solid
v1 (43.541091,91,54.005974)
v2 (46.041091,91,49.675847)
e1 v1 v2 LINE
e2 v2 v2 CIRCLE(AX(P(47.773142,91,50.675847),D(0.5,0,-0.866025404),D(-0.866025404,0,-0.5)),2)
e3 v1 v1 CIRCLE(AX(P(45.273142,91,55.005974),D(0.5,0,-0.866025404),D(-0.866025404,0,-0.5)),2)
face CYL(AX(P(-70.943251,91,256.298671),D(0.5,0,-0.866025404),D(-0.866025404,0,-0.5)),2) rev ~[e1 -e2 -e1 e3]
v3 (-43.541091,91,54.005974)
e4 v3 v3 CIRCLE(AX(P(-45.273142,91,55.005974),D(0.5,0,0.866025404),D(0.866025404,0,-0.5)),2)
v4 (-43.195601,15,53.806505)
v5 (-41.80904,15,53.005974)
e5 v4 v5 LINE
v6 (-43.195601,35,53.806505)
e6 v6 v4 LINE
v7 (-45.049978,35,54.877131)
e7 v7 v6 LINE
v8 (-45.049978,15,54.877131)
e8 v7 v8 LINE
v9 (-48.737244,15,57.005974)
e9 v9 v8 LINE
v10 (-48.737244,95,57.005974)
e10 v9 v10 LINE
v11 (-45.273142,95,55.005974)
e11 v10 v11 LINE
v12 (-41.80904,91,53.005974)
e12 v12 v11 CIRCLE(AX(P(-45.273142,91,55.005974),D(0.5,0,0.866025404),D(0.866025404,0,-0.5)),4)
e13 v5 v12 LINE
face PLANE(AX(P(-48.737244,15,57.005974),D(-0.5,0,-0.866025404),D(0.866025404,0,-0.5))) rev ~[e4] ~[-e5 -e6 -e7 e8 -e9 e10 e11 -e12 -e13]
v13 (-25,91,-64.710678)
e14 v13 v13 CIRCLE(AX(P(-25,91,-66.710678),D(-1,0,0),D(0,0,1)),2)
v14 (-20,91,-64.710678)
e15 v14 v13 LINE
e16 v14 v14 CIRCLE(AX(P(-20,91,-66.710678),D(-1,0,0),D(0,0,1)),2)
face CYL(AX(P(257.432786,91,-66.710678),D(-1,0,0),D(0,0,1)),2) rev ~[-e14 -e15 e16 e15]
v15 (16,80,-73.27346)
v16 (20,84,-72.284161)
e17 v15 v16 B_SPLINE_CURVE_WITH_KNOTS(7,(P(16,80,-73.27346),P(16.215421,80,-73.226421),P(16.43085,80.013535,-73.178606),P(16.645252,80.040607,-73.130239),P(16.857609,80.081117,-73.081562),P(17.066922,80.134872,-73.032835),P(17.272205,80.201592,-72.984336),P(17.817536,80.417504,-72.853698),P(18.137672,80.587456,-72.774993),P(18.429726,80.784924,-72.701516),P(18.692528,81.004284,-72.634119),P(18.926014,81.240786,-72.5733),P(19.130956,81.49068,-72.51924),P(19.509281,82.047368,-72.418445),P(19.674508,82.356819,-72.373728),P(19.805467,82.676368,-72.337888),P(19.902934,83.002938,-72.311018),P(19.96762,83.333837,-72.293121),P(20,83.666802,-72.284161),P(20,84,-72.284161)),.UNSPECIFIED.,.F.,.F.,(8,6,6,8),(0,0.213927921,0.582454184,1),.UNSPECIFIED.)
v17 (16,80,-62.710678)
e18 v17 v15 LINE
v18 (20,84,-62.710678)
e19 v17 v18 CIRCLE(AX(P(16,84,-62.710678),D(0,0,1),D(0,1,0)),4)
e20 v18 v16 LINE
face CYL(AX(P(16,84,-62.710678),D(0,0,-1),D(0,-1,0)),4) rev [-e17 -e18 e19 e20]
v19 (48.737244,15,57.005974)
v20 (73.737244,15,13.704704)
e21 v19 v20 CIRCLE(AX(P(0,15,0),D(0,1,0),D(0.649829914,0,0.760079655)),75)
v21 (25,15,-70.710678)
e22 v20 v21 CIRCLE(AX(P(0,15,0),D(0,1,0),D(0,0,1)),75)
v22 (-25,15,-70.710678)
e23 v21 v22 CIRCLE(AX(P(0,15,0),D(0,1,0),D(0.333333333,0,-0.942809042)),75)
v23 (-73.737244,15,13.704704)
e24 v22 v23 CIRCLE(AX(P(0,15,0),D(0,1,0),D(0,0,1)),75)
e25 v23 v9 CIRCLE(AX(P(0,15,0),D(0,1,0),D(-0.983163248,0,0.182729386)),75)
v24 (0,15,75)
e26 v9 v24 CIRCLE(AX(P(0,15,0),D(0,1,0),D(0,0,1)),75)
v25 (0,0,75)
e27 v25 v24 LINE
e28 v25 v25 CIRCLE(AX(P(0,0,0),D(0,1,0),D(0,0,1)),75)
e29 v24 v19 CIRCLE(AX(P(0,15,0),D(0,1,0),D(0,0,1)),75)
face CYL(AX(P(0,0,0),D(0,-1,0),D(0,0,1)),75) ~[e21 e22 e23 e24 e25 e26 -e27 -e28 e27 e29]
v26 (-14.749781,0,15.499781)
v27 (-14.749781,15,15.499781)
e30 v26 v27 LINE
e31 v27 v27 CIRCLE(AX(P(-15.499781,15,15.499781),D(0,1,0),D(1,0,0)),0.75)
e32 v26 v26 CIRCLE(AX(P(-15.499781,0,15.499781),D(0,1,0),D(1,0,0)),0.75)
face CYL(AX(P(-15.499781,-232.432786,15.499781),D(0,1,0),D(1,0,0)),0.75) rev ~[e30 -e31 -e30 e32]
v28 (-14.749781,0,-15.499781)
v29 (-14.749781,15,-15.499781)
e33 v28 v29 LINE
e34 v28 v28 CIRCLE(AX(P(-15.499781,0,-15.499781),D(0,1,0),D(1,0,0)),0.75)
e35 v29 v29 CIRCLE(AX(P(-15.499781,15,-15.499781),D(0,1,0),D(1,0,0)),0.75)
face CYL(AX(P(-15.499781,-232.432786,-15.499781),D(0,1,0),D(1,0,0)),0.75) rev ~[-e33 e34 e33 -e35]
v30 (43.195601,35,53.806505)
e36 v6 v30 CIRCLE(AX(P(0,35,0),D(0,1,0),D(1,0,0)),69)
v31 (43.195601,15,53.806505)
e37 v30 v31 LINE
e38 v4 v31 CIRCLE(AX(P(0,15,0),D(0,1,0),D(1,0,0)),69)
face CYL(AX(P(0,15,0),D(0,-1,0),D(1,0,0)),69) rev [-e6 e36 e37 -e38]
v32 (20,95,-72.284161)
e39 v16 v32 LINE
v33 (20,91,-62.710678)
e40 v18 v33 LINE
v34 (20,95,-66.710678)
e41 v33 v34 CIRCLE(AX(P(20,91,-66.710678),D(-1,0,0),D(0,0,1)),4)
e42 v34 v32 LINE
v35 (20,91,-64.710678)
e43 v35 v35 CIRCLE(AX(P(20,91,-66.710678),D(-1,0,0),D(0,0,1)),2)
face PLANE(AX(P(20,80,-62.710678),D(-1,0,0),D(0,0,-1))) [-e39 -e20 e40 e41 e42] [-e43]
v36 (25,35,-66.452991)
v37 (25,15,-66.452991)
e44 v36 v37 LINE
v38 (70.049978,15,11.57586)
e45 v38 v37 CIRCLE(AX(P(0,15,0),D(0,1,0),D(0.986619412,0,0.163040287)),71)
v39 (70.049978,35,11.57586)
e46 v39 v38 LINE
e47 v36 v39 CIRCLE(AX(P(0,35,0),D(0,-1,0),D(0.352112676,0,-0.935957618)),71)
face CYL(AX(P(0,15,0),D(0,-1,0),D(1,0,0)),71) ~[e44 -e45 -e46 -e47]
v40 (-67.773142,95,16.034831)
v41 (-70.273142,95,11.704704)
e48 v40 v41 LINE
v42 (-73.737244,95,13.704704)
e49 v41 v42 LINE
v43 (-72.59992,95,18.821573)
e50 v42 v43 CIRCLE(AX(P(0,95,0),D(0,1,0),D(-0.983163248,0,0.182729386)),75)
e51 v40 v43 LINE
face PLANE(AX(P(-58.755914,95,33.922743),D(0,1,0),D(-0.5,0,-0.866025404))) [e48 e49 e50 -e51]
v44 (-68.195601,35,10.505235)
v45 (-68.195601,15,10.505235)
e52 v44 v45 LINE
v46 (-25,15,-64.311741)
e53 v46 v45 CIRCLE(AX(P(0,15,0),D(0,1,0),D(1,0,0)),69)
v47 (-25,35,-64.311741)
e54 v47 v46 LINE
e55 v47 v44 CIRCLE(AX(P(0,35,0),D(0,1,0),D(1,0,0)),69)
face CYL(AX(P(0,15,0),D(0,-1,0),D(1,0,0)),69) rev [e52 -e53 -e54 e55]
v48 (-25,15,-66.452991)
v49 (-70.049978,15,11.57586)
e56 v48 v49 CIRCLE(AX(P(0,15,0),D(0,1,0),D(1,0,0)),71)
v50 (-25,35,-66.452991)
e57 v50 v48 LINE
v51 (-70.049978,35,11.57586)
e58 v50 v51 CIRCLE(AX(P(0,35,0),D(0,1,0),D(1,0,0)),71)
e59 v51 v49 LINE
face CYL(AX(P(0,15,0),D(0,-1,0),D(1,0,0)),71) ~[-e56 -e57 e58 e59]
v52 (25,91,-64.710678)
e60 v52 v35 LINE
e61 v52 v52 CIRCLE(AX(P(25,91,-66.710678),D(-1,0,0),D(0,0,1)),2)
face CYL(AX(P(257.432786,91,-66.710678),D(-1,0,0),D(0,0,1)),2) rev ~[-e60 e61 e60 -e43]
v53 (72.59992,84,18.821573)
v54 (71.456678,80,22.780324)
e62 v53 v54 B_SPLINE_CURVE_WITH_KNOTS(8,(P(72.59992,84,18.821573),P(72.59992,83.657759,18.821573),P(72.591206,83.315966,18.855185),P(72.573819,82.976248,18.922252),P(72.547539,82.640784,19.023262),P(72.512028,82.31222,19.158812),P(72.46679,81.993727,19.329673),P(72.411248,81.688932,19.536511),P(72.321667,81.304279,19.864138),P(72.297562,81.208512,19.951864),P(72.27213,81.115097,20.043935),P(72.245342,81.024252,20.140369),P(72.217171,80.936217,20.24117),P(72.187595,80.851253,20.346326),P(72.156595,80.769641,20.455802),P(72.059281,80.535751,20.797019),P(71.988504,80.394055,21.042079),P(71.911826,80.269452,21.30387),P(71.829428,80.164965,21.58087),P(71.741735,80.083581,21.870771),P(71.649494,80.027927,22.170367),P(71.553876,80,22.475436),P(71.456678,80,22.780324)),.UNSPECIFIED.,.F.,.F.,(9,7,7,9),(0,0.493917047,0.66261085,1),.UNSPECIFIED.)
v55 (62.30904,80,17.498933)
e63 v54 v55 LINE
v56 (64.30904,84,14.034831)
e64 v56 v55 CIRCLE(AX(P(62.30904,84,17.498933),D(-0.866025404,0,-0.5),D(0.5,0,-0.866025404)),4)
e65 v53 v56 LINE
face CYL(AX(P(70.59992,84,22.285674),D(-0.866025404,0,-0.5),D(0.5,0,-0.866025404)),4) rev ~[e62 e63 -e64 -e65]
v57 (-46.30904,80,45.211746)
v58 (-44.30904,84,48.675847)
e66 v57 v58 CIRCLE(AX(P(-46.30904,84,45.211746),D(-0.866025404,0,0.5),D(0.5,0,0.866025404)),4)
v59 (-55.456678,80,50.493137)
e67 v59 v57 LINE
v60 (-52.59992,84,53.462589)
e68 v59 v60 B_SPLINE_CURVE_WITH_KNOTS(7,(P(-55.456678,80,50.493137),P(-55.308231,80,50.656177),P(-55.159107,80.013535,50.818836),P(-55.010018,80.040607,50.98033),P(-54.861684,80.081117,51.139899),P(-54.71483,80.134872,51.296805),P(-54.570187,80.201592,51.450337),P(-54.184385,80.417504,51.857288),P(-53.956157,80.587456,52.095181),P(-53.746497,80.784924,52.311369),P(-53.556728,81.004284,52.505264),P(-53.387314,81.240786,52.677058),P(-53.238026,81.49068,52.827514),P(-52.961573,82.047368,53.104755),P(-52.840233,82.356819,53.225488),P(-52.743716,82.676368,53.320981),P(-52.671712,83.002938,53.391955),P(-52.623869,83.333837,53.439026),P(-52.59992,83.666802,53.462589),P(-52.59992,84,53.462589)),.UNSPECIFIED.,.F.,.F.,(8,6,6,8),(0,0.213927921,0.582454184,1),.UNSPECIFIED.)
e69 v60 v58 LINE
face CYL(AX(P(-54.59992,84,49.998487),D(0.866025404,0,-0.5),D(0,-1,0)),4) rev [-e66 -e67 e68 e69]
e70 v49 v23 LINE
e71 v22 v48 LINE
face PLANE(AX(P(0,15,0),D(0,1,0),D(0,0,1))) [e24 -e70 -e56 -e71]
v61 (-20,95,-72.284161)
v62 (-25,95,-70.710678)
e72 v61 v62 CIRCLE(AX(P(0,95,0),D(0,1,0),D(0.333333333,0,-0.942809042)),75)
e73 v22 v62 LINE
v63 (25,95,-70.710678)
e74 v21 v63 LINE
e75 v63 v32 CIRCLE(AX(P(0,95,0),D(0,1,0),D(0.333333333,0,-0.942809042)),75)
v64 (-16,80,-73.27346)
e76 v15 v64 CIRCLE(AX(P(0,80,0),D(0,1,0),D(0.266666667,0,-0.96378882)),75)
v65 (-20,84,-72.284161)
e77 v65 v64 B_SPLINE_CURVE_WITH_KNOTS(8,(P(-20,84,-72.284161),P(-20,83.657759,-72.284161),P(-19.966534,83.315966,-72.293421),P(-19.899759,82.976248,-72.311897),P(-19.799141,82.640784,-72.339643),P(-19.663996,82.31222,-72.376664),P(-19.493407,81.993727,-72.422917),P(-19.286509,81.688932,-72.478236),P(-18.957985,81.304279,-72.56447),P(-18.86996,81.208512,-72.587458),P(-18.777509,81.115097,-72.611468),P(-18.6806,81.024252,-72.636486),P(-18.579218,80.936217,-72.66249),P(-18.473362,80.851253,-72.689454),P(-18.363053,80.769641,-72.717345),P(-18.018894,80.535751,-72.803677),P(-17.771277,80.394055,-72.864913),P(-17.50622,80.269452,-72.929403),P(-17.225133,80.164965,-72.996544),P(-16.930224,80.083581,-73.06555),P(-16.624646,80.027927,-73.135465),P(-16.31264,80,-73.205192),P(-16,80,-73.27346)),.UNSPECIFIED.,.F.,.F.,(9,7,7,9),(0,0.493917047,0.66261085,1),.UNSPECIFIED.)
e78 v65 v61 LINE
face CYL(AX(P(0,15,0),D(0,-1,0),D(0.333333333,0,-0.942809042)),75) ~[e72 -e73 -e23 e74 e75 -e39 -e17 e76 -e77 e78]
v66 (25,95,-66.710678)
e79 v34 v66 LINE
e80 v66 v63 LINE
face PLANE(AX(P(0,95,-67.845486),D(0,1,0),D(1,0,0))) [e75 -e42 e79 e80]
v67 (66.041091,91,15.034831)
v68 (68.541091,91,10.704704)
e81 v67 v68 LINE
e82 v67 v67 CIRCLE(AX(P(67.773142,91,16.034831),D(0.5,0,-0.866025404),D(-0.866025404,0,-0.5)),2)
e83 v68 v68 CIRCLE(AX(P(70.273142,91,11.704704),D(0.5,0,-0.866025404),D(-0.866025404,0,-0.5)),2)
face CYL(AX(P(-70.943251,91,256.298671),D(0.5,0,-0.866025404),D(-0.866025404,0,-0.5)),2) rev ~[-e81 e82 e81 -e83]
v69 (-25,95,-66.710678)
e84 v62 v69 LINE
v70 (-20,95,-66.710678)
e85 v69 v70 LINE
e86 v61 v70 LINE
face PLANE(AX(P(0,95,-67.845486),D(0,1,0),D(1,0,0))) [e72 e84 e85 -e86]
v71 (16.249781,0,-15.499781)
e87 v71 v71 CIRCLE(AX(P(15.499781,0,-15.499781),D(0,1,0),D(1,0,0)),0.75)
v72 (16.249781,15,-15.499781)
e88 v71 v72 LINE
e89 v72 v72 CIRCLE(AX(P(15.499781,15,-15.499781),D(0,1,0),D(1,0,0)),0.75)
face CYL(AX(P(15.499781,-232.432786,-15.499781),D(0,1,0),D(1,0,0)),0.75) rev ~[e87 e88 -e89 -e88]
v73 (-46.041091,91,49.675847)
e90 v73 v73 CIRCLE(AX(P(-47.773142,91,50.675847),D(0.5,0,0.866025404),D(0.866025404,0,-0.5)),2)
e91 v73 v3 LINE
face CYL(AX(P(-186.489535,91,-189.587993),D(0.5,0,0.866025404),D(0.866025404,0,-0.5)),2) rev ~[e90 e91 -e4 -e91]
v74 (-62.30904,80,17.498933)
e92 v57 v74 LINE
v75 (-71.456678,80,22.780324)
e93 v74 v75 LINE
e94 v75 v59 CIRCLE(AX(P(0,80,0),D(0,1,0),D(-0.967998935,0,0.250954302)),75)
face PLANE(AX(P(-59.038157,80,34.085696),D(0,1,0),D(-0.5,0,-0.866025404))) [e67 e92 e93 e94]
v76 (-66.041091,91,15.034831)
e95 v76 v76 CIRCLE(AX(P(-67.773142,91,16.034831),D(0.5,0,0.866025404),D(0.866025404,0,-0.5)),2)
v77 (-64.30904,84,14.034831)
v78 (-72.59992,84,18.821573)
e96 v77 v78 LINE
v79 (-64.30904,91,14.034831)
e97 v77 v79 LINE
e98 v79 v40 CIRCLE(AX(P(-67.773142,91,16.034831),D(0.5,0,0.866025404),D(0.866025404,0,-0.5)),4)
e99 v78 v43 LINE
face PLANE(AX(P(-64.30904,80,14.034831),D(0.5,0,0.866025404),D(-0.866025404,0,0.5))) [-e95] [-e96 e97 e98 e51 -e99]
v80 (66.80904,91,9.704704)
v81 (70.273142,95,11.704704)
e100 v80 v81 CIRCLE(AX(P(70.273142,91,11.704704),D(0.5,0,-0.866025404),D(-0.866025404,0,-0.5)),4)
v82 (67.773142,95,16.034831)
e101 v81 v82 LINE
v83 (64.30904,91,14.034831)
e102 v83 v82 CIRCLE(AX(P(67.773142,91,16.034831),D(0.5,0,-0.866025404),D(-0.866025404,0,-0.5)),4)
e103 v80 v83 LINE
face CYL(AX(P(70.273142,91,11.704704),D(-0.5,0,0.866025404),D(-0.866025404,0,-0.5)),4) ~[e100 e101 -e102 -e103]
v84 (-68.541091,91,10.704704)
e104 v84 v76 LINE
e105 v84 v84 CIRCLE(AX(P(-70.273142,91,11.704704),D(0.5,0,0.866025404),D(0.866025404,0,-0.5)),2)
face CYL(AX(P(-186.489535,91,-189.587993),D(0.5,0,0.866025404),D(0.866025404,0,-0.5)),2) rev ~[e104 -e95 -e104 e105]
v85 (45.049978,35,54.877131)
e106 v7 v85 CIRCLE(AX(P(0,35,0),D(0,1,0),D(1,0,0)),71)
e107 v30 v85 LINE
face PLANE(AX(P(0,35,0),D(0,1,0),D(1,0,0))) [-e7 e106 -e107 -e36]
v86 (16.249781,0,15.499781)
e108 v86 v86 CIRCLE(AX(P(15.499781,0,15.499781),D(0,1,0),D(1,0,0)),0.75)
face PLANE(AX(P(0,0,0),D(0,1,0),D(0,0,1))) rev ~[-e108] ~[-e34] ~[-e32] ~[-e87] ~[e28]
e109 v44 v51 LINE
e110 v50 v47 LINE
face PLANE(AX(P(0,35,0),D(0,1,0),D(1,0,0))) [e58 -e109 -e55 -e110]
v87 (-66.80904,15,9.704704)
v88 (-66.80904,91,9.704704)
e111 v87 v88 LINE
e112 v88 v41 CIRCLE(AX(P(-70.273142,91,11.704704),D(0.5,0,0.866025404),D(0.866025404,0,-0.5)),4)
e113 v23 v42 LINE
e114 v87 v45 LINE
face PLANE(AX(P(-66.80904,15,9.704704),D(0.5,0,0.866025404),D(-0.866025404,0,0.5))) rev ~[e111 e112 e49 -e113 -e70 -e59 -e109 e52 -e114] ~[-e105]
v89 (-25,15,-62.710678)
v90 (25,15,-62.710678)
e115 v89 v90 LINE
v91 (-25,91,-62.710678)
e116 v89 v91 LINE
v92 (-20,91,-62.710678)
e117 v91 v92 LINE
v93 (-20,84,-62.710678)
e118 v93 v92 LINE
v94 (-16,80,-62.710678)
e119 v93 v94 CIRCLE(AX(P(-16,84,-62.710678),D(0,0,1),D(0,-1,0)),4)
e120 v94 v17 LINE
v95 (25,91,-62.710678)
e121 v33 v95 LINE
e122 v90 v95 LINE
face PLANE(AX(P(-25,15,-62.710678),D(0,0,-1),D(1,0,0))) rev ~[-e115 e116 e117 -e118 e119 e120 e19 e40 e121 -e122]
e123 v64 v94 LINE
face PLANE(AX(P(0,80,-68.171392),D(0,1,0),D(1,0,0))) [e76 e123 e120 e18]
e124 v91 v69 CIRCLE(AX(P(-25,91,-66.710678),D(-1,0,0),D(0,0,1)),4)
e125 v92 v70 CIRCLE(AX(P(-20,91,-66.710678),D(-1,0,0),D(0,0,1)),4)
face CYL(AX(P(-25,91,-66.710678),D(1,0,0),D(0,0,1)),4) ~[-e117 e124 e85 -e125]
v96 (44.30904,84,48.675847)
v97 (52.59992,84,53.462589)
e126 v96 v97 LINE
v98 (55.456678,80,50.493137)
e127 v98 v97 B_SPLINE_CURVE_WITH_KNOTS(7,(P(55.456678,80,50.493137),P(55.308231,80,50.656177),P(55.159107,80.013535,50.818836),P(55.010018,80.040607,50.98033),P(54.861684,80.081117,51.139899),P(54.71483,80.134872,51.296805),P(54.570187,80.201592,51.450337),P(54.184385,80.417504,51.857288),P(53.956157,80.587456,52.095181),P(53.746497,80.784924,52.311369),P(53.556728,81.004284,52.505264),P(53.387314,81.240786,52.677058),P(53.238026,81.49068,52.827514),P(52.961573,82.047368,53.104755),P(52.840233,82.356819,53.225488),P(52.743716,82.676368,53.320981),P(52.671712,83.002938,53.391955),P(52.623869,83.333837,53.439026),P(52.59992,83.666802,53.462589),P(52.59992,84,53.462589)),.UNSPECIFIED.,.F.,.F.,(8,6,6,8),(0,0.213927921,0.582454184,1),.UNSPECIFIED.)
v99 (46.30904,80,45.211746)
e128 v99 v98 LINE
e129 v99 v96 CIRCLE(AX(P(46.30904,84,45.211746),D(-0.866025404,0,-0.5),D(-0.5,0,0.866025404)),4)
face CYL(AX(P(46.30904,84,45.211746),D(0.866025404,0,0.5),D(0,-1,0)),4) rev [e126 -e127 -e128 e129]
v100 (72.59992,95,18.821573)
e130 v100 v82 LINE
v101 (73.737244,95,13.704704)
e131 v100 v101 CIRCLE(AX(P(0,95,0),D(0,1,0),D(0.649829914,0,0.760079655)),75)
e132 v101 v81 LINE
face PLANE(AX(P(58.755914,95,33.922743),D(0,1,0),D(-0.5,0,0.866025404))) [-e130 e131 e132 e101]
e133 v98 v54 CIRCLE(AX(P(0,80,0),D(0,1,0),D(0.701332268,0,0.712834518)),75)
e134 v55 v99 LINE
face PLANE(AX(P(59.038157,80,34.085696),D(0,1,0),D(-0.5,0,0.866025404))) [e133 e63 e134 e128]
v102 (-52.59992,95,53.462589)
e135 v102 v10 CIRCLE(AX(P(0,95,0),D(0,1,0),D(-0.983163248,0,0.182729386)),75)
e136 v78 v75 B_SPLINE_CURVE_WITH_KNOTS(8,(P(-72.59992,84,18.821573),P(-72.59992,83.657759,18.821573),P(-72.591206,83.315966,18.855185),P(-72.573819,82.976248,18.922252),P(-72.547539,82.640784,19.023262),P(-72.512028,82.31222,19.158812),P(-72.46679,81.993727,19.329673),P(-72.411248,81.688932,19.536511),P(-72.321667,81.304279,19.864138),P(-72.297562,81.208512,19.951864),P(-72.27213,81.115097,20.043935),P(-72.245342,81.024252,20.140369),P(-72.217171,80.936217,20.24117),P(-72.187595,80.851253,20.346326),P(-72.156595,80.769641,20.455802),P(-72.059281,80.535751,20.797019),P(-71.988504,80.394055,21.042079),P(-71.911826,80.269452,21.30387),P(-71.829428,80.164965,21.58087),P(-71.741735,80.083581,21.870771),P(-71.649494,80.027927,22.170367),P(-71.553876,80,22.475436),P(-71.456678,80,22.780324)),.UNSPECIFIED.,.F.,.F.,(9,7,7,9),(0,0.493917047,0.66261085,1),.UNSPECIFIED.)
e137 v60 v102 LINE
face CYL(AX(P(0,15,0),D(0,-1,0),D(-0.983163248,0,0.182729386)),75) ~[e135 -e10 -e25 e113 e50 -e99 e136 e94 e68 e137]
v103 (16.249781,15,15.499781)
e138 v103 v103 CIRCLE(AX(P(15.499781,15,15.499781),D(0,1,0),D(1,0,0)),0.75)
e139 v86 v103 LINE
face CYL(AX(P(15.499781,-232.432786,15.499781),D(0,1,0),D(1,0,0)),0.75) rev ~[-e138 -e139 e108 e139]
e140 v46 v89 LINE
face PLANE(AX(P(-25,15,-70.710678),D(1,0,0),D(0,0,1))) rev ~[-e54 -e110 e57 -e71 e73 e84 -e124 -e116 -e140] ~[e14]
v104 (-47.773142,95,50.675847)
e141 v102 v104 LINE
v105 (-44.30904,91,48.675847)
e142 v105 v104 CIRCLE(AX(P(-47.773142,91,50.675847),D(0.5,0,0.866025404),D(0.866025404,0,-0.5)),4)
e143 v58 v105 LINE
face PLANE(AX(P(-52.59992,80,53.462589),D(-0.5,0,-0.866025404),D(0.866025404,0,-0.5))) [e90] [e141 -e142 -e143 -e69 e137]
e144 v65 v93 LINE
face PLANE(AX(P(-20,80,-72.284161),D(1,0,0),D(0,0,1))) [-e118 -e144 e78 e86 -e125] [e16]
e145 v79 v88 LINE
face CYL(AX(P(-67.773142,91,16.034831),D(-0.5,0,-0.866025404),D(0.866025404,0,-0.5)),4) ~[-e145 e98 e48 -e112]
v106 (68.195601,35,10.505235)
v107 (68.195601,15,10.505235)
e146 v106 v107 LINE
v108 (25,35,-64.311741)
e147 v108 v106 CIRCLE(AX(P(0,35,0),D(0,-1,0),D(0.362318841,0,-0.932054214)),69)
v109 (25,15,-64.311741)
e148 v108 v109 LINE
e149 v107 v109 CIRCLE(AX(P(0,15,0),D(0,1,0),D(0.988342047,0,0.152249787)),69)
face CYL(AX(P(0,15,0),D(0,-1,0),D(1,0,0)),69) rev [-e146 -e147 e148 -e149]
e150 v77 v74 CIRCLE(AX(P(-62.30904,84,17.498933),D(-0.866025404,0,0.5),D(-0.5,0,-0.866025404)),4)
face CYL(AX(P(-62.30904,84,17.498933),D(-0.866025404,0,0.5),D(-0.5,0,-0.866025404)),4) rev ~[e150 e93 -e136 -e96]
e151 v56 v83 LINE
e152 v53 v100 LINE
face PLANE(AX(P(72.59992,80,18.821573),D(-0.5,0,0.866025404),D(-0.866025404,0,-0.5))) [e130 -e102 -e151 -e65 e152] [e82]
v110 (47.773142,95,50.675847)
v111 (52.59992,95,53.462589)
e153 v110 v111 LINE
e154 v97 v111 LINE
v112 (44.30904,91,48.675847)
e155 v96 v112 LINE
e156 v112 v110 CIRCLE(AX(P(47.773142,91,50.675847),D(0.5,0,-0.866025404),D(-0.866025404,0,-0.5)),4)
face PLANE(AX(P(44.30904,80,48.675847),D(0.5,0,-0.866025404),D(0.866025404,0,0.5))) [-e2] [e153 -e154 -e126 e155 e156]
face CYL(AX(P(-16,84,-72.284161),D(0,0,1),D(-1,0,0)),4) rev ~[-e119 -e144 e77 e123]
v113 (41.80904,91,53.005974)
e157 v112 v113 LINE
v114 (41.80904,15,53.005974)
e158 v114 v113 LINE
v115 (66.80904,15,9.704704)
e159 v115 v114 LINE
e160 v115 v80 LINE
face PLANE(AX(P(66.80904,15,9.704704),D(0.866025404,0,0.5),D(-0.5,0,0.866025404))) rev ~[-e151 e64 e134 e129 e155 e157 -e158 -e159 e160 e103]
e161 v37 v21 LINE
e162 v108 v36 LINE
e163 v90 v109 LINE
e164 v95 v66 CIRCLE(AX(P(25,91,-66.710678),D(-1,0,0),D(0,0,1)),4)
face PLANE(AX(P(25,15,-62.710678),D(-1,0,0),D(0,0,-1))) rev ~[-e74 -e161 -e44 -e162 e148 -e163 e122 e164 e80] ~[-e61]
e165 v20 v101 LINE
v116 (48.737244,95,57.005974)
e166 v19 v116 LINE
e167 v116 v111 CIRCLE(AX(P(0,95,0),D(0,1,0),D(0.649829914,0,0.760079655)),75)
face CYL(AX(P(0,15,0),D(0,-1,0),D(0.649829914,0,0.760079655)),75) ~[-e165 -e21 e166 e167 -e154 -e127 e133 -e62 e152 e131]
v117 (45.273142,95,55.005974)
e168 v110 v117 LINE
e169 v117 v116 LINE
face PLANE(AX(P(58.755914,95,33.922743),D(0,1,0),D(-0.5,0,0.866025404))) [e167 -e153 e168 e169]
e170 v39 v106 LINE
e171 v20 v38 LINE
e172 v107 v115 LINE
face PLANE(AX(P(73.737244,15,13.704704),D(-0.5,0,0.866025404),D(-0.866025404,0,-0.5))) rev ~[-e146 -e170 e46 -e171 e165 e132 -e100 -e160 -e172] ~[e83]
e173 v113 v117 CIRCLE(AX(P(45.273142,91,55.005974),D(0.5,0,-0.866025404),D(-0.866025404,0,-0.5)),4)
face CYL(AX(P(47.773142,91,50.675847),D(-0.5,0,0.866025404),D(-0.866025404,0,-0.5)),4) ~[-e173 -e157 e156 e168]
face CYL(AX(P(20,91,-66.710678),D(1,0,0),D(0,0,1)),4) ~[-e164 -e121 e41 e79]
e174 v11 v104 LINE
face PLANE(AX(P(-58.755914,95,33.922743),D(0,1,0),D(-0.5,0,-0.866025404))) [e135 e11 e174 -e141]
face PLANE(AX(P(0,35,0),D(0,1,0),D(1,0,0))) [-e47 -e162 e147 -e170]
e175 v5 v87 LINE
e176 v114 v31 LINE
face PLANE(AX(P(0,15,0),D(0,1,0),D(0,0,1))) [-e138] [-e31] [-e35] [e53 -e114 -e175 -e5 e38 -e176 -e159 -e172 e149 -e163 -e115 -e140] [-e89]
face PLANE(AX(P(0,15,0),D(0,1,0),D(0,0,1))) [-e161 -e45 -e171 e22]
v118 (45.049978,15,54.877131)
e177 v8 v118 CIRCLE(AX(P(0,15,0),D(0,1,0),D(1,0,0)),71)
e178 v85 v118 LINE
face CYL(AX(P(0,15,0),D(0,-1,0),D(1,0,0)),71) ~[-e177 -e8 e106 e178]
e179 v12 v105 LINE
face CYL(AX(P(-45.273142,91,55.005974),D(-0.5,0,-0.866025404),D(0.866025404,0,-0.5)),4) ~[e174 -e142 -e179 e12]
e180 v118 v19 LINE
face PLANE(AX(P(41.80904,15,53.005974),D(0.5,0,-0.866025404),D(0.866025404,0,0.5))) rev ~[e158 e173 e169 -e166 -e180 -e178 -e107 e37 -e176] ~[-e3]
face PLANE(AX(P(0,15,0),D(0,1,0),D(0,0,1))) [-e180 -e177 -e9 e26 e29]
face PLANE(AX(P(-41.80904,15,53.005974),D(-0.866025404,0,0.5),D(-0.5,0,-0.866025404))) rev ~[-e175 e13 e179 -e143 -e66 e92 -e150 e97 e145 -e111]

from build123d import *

# Parameters (mm, degrees)
SKETCH1_R                 = 75
BOSS_EXTRUDE1_DEPTH       = 15
BOSS_EXTRUDE2_DEPTH       = 80
CUT_EXTRUDE1_START        = -15
CUT_EXTRUDE1_DEPTH        = 15
F_4_0_MM_DOWEL_HOLES1_D   = 4
FILLET1_R                 = 4
FILLET2_R                 = 4
CIRPATTERN1_COUNT         = 3
FILLET1_OF_CIRPATTERN1_R  = 4
FILLET2_OF_CIRPATTERN1_R  = 4
FORI_ALESATO_1_5MM2_D     = 1.5
SCHIZZO8_R                = 71
SCHIZZO8_R_2              = 69
ESTRUSIONE_SOTTILE1_DEPTH = 20


with BuildPart() as part:
    # Sketch1 → Boss-Extrude1 (new body)
    with BuildSketch(Plane(origin=(0, 0, 0), x_dir=(1, 0, 0), z_dir=(0, 1, 0))):
        with Locations(Location((0, 0, 0), (0, 0, 270))):
            Circle(SKETCH1_R)
    extrude(amount=BOSS_EXTRUDE1_DEPTH)

    # Sketch2 → Boss-Extrude2 (add)
    with BuildSketch(Plane(origin=(0, 15, 0), x_dir=(1, 0, 0), z_dir=(0, 1, 0))):
        with BuildLine():
            Line((-25, 70.710678119), (-25, 62.710678119))
            Line((-25, 62.710678119), (25, 62.710678119))
            Line((25, 62.710678119), (25, 70.710678119))
            ThreePointArc((25, 70.710678119), (0, 75), (-25, 70.710678119))
        make_face()
    boss_extrude2 = extrude(amount=BOSS_EXTRUDE2_DEPTH)

    # Sketch3 → Cut-Extrude1 (cut)
    with BuildSketch(Plane(origin=(0, 95, 0), x_dir=(1, 0, 0), z_dir=(0, 1, 0)).offset(CUT_EXTRUDE1_START)):
        with BuildLine():
            Line((-20, 72.284161474), (-20, 62.710678119))
            Line((-20, 62.710678119), (20, 62.710678119))
            Line((20, 62.710678119), (20, 72.284161474))
            ThreePointArc((20, 72.284161474), (0, 75), (-20, 72.284161474))
        make_face()
    cut_extrude1 = extrude(amount=CUT_EXTRUDE1_DEPTH, mode=Mode.SUBTRACT)

    # Ø4.0 mm Dowel Holes1 (through all)
    with Locations(Plane(origin=(25, 0, 0), x_dir=(0, 0, -1), z_dir=(1, 0, 0))):
        with Locations((66.710678119, 91)):
            f_4_0_mm_dowel_holes1 = Hole(F_4_0_MM_DOWEL_HOLES1_D / 2)

    # Fillet1
    fillet1_edges = [part.edges().sort_by_distance(p)[0] for p in [
        (22.5, 95, -62.710678119),
        (-22.5, 95, -62.710678119),
    ]]
    fillet(fillet1_edges, radius=FILLET1_R)

    # Fillet2
    fillet2_edges = [part.edges().sort_by_distance(p)[0] for p in [
        (20, 80, -67.497419796),
        (-20, 80, -67.497419796),
    ]]
    fillet(fillet2_edges, radius=FILLET2_R)

    # CirPattern1: Boss-Extrude2, Cut-Extrude1, Ø4.0 mm Dowel Holes1 ×3 about axis
    cirpattern1_axis = Axis((0, 0, 0), (0, 1, 0))
    add([boss_extrude2.rotate(cirpattern1_axis, i * 360 / CIRPATTERN1_COUNT) for i in range(1, CIRPATTERN1_COUNT)])
    add([cut_extrude1.rotate(cirpattern1_axis, i * 360 / CIRPATTERN1_COUNT) for i in range(1, CIRPATTERN1_COUNT)], mode=Mode.SUBTRACT)
    add([f_4_0_mm_dowel_holes1.rotate(cirpattern1_axis, i * 360 / CIRPATTERN1_COUNT) for i in range(1, CIRPATTERN1_COUNT)], mode=Mode.SUBTRACT)

    # Fillet1 of CirPattern1
    fillet1_of_cirpattern1_edges = [part.edges().sort_by_distance(p)[0] for p in [
        (-65.559040339, 95, 11.869767474),
        (-43.059040339, 95, 50.840910644),
        (43.059040339, 95, 50.840910644),
        (65.559040339, 95, 11.869767474),
    ]]
    fillet(fillet1_of_cirpattern1_edges, radius=FILLET1_OF_CIRPATTERN1_R)

    # Fillet2 of CirPattern1
    fillet2_of_cirpattern1_edges = [part.edges().sort_by_distance(p)[0] for p in [
        (-68.454480234, 80, 16.428201822),
        (-48.454480234, 80, 51.069217974),
        (48.454480234, 80, 51.069217974),
        (68.454480234, 80, 16.428201822),
    ]]
    fillet(fillet2_of_cirpattern1_edges, radius=FILLET2_OF_CIRPATTERN1_R)

    # Fori Alesato Ø1.5mm2 (through all)
    with Locations(Plane(origin=(0, 0, 0), x_dir=(-1, 0, 0), z_dir=(0, -1, 0))):
        with Locations((-15.499780644, 15.499780644), (15.499780644, -15.499780644), (-15.499780644, -15.499780644), (15.499780644, 15.499780644)):
            Hole(FORI_ALESATO_1_5MM2_D / 2)

    # Schizzo8 → Estrusione-Sottile1 (add)
    with BuildSketch(Plane(origin=(0, 15, 0), x_dir=(1, 0, 0), z_dir=(0, 1, 0))):
        Circle(SCHIZZO8_R)
        Circle(SCHIZZO8_R_2, mode=Mode.SUBTRACT)
    extrude(amount=ESTRUSIONE_SOTTILE1_DEPTH)


solid = part.part
